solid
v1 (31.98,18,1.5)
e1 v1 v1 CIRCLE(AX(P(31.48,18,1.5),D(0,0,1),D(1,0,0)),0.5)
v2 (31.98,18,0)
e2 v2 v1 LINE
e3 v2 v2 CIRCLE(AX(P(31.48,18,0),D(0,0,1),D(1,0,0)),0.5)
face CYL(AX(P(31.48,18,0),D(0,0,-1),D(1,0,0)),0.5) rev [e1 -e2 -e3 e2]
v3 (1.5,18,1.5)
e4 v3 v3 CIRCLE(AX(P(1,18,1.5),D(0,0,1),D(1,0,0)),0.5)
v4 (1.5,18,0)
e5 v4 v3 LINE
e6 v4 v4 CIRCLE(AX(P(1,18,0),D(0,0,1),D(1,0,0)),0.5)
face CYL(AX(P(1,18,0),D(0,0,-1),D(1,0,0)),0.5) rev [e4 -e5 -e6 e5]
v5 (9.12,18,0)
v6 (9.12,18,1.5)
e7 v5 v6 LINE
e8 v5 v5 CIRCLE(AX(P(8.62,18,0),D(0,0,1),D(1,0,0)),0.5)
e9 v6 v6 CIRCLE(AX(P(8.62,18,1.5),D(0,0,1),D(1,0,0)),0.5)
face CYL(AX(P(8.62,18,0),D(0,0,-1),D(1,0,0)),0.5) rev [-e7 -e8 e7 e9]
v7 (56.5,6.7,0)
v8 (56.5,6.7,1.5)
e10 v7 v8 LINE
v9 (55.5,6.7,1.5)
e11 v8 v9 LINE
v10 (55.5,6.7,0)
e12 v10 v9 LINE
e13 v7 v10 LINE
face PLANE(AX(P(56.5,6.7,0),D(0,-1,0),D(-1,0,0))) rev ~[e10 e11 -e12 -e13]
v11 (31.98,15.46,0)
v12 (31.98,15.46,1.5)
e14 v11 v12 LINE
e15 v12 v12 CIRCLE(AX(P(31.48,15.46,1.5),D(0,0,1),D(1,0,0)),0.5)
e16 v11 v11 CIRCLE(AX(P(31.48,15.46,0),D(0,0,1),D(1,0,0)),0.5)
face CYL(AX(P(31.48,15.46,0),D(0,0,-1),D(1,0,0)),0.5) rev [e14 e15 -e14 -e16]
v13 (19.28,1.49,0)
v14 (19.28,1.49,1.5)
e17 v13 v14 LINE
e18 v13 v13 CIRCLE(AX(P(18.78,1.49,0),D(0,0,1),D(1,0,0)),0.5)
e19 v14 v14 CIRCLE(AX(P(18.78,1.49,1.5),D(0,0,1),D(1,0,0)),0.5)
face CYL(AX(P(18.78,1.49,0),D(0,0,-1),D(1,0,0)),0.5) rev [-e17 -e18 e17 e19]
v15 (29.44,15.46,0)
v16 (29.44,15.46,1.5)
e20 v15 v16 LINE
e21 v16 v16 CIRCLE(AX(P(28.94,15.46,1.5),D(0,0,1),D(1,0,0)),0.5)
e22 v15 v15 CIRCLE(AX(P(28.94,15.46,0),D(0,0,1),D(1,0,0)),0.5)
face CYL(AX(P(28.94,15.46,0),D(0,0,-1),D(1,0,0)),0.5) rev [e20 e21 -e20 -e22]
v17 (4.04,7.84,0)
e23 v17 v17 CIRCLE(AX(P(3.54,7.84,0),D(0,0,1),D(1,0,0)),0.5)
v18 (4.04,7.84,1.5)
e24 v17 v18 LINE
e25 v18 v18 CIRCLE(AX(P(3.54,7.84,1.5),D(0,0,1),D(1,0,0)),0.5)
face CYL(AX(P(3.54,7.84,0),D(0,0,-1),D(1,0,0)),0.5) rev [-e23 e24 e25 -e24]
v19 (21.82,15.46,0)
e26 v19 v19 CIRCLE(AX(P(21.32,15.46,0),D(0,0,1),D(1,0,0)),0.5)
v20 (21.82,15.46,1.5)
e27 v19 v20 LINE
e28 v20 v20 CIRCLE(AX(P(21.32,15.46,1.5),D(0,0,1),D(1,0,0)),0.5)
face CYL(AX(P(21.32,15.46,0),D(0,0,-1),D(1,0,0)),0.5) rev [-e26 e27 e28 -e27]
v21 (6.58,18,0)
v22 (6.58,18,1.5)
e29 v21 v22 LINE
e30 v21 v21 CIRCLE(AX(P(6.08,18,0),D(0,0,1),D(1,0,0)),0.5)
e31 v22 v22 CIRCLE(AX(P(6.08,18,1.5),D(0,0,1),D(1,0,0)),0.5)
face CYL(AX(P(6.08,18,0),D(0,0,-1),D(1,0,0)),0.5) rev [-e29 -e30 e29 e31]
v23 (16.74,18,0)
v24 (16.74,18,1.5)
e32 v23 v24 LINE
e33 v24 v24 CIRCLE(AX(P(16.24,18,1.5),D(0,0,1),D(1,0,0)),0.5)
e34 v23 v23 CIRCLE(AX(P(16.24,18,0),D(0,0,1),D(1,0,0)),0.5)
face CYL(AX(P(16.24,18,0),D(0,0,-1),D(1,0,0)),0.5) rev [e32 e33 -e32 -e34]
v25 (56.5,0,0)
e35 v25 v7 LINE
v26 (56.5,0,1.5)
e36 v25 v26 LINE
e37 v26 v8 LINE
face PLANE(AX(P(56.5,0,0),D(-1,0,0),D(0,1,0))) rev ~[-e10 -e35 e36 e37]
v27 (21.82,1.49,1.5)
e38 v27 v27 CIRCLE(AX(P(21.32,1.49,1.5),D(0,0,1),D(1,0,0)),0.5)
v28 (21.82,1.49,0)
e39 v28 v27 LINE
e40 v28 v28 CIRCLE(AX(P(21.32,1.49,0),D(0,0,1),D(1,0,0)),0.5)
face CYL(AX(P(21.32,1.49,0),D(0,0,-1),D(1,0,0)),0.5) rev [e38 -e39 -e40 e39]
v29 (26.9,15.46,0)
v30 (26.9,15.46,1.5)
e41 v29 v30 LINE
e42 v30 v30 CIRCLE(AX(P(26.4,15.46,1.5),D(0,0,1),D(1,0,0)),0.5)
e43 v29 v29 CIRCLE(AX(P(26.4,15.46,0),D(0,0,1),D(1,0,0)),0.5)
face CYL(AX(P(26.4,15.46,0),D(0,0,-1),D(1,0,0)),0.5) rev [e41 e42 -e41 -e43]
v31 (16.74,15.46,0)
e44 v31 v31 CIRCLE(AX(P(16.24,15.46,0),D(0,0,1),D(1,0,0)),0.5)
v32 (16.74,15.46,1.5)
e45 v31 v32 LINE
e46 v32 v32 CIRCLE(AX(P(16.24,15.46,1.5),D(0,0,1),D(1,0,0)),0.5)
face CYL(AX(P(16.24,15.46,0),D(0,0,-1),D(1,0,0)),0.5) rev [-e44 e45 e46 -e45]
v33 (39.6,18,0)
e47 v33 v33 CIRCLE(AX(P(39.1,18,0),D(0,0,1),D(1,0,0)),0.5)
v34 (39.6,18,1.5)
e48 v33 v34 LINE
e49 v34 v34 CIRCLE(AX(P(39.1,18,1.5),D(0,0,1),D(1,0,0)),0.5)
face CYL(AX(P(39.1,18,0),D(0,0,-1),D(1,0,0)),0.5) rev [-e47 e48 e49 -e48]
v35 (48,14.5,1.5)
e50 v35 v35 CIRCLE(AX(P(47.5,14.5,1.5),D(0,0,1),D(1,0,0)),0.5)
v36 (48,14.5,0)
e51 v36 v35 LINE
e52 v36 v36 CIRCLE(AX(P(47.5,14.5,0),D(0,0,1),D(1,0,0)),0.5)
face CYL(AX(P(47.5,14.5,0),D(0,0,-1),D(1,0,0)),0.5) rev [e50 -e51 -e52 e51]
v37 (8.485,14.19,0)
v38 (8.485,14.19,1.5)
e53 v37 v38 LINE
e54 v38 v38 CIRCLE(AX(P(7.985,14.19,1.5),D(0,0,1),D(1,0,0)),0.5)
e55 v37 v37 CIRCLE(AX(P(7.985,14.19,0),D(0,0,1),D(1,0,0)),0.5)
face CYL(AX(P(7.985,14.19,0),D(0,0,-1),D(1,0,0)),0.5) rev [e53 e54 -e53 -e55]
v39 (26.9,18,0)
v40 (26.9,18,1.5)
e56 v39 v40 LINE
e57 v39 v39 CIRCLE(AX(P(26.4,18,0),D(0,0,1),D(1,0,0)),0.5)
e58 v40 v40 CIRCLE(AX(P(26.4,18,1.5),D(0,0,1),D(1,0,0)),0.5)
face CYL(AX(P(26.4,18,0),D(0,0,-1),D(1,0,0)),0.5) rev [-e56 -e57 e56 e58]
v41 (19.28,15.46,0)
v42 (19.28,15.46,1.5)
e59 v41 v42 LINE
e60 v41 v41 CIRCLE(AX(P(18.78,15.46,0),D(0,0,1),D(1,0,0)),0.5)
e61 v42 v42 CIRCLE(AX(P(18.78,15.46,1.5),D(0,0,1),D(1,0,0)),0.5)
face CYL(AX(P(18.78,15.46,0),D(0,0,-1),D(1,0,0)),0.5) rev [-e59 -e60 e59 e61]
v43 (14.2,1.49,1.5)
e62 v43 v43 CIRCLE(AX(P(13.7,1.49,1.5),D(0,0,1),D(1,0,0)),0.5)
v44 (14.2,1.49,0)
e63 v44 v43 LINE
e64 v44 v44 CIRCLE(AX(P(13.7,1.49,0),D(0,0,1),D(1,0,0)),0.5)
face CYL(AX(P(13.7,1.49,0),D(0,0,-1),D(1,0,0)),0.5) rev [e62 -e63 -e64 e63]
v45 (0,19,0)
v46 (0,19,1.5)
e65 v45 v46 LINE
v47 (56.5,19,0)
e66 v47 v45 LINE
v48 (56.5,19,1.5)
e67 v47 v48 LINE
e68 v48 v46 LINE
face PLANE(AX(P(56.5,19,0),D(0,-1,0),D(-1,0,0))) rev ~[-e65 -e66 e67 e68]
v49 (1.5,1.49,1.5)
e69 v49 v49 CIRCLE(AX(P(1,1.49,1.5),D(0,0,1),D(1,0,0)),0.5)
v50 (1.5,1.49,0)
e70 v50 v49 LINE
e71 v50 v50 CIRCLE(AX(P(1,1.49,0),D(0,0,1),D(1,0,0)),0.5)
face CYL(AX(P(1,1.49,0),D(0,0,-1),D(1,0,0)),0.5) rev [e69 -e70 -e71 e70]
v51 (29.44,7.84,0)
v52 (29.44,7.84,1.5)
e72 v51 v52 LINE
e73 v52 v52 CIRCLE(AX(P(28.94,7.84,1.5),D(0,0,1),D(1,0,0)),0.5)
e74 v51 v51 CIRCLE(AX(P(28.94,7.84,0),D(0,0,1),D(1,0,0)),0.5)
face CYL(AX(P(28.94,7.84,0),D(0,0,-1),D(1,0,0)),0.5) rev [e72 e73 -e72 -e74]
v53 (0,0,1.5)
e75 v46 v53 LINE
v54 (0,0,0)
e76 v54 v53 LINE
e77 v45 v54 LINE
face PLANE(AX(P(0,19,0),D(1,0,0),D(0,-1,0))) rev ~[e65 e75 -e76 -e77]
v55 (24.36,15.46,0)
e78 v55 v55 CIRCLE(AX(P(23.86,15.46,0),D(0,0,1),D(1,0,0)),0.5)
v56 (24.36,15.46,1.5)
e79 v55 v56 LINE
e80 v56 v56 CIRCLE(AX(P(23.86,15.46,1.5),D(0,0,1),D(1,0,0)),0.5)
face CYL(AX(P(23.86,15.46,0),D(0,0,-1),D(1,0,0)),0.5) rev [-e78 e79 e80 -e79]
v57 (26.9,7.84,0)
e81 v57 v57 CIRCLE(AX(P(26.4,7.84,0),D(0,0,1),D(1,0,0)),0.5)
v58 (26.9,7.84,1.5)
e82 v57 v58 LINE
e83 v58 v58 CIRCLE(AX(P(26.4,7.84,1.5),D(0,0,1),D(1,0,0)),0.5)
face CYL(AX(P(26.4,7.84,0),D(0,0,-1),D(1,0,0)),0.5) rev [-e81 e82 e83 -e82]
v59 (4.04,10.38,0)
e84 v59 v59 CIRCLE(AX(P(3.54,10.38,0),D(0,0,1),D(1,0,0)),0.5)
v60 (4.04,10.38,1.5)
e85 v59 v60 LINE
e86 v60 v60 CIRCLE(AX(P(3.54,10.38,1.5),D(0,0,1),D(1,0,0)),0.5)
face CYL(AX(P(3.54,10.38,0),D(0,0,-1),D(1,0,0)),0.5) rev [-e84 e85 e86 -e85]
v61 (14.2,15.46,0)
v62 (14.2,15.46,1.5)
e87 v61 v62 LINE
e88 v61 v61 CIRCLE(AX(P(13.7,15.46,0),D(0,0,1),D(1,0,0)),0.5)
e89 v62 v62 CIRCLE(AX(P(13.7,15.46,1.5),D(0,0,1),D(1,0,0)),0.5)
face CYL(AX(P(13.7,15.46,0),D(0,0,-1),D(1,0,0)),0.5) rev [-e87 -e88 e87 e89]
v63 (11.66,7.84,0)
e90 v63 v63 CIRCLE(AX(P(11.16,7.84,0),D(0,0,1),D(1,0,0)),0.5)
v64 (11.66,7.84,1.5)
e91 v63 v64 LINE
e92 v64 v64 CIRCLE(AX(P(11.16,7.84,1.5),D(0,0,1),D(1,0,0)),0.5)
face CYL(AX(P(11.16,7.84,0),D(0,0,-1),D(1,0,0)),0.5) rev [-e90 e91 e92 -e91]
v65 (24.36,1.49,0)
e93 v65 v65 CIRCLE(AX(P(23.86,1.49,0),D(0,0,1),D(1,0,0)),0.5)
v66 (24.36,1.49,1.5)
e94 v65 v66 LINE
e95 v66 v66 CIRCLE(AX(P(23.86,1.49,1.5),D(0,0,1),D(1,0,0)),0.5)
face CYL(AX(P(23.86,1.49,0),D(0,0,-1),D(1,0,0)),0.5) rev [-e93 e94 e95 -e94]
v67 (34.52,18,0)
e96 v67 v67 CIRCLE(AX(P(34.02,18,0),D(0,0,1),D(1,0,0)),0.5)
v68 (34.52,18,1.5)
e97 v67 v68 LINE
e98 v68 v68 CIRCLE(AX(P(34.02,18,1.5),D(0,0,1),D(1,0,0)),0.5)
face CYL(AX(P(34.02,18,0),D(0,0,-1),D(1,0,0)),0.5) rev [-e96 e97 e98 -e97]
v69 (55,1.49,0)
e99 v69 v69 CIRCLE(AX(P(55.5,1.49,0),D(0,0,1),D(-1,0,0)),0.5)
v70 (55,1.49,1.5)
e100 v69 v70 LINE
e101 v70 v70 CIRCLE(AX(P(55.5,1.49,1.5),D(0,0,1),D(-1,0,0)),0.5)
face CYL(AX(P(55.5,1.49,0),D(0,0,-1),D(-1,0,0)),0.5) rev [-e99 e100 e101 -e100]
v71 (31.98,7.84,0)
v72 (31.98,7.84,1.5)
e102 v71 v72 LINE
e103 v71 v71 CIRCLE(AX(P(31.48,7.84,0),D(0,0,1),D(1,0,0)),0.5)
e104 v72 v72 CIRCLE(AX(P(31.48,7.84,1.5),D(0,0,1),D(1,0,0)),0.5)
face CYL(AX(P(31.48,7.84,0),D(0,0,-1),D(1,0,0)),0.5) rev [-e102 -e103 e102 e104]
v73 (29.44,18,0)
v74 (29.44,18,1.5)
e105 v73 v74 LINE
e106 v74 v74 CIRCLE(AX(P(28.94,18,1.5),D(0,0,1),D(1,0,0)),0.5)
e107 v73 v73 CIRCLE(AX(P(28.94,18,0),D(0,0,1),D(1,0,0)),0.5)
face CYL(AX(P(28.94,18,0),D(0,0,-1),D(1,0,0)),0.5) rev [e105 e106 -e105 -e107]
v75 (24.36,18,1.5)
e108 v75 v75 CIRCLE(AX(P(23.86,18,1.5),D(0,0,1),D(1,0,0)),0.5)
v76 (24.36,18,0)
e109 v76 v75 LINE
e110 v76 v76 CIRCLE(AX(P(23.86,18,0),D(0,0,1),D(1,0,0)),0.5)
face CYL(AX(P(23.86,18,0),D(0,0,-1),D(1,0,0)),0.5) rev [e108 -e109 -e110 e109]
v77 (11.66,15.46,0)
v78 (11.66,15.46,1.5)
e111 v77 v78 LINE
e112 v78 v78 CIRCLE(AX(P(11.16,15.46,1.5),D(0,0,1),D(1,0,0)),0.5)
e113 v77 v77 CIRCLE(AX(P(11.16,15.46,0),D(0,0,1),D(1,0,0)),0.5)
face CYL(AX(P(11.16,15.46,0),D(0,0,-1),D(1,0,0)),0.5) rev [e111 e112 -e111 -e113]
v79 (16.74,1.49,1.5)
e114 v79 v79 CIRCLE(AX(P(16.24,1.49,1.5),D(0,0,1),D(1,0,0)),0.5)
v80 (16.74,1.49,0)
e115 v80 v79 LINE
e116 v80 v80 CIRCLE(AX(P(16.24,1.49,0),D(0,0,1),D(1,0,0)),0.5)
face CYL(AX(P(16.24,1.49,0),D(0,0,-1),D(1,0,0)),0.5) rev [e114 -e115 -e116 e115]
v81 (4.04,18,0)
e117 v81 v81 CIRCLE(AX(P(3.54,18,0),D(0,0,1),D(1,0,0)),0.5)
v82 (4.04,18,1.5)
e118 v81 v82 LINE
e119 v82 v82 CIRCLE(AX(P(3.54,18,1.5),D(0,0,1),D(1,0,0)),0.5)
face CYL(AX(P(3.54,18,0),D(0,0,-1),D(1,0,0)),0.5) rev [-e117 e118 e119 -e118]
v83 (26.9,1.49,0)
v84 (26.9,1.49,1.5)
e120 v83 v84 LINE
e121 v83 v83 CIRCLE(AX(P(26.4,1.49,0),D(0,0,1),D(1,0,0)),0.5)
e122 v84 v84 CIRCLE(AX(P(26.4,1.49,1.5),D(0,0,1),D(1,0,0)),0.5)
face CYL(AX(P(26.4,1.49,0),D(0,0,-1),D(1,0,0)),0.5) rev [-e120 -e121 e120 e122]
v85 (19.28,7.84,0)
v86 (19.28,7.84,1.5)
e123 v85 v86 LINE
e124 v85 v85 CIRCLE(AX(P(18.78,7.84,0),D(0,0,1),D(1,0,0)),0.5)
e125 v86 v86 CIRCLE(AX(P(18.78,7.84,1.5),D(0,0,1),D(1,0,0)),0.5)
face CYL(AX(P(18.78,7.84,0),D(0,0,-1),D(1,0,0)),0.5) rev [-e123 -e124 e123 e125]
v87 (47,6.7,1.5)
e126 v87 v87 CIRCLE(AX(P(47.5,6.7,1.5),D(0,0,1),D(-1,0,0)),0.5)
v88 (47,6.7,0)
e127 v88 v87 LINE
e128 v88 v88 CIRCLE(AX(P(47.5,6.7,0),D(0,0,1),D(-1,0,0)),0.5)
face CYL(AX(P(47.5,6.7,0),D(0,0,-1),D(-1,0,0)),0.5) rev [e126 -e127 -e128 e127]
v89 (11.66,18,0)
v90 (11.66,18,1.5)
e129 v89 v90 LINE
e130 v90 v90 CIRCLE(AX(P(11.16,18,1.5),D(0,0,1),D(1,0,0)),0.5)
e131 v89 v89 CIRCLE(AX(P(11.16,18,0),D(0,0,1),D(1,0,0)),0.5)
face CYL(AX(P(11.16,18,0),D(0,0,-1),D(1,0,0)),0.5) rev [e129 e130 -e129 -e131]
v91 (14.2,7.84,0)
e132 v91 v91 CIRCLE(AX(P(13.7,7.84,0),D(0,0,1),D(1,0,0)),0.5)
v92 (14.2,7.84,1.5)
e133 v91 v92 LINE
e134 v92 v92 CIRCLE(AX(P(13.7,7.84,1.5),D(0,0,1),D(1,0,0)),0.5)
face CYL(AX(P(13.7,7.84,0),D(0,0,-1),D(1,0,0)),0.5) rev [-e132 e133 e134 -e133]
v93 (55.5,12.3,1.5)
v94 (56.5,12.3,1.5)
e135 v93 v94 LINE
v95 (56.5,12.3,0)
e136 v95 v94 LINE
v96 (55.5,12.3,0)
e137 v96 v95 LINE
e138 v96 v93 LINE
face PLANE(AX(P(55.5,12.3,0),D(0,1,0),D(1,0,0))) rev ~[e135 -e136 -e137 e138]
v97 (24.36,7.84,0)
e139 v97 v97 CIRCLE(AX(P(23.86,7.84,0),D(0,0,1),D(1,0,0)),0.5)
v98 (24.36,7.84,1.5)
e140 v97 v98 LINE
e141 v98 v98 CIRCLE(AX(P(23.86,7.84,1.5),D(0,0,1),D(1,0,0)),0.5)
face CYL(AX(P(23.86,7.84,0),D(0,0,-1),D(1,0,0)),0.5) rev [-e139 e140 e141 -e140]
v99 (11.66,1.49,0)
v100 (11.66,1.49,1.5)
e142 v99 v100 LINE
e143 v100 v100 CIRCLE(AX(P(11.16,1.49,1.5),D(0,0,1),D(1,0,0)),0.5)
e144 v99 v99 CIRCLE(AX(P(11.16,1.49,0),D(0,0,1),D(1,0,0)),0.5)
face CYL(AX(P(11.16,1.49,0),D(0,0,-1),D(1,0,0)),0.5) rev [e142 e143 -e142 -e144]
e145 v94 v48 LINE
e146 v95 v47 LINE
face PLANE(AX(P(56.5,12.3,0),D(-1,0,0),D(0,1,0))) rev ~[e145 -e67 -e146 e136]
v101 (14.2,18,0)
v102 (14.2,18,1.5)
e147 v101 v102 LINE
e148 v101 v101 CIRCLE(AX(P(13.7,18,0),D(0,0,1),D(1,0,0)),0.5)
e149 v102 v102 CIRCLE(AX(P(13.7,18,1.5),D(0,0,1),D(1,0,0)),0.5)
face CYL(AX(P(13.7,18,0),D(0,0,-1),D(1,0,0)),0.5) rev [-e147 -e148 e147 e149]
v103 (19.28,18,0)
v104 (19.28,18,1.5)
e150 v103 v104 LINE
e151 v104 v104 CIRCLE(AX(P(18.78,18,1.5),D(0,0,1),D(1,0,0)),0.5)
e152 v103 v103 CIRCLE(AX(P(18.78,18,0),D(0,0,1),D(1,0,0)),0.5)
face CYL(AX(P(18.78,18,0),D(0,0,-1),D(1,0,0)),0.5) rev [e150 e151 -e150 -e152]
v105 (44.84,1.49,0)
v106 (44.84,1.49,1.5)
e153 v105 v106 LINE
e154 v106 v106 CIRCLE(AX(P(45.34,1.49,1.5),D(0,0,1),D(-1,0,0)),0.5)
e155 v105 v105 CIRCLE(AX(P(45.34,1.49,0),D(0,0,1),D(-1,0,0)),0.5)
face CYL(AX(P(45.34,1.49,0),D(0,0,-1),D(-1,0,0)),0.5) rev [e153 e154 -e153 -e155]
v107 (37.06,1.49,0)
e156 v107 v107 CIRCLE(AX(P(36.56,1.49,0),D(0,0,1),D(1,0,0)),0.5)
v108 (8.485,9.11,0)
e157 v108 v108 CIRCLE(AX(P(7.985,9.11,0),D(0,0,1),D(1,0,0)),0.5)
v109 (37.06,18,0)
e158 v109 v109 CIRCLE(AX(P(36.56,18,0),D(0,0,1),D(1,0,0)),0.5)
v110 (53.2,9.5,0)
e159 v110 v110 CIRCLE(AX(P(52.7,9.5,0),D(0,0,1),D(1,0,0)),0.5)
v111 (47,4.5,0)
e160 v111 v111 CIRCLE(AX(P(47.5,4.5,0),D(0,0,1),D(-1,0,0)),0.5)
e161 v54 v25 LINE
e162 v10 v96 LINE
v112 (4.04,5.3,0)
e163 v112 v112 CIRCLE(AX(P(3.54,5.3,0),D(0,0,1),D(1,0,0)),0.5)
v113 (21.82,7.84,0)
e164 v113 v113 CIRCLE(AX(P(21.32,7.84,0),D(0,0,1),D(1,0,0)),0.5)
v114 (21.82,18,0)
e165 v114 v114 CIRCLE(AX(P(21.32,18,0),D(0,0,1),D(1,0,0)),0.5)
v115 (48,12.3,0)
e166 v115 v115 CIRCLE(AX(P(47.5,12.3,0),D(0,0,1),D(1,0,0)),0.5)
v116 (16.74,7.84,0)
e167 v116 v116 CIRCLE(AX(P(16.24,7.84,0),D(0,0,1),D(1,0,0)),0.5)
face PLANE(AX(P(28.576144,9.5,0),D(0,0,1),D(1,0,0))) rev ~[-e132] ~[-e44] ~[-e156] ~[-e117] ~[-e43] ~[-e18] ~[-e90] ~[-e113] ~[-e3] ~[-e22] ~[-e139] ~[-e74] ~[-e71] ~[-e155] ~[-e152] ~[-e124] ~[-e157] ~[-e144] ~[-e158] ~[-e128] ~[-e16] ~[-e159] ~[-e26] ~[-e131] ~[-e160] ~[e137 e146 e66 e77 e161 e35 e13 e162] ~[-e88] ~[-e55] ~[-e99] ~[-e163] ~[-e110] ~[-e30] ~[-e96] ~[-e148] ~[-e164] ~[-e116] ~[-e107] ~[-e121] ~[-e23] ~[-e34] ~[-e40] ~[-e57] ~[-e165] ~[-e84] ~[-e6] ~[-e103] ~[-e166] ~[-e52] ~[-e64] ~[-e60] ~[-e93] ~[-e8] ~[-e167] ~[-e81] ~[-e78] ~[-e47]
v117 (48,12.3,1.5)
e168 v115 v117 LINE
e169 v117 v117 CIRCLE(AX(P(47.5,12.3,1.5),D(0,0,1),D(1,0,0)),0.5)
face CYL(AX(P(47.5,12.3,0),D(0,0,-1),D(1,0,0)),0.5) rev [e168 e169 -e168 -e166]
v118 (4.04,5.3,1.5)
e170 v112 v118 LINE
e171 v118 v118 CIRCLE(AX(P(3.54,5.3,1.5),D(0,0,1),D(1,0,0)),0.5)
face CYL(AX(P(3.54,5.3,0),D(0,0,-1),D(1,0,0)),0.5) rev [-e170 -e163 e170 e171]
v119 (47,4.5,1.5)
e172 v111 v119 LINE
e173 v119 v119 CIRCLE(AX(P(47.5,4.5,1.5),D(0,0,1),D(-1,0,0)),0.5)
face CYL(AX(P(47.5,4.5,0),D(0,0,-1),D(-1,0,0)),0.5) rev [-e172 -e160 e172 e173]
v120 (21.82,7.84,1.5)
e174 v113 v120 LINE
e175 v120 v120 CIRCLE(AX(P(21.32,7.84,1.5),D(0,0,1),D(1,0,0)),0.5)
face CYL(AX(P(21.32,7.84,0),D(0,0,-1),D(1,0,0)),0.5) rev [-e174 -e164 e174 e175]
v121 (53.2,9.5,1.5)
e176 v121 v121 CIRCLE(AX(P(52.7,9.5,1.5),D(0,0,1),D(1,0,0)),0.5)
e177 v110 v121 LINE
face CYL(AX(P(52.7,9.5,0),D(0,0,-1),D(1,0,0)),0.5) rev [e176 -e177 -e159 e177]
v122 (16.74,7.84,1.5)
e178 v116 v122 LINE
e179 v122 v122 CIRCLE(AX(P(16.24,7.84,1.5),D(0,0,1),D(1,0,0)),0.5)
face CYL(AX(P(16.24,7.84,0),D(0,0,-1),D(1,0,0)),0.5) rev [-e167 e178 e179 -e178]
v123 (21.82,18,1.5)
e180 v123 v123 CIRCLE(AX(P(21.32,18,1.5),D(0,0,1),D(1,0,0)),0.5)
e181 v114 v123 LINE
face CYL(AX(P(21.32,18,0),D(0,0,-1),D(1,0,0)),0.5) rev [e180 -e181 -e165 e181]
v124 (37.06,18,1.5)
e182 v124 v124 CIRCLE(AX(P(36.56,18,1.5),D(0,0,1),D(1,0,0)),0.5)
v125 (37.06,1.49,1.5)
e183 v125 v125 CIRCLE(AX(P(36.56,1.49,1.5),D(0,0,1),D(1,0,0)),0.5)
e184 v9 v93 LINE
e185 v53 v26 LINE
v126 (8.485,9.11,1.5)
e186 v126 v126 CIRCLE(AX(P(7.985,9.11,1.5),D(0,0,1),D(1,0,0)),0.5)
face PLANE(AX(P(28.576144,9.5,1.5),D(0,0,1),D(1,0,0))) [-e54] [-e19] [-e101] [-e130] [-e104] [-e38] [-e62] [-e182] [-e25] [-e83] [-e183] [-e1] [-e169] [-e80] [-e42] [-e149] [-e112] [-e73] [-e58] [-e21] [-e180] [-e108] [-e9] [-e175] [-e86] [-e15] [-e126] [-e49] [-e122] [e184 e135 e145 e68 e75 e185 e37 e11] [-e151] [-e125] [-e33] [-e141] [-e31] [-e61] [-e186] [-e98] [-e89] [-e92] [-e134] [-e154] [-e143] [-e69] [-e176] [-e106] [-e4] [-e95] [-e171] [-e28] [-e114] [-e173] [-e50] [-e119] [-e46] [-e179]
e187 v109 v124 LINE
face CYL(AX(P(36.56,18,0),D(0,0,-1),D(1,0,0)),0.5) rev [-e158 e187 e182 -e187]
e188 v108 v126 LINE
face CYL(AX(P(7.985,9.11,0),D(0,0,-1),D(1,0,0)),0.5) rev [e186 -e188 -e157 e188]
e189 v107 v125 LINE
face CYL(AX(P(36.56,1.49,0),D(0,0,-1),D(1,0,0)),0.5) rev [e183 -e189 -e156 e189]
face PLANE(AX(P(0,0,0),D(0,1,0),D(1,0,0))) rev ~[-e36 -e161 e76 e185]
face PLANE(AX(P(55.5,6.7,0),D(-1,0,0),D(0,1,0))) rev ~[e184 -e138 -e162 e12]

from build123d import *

# Parameters (mm, degrees)
ESQUISSE1_R        = 0.5
BOSS_EXTRU_1_DEPTH = 1.5


with BuildPart() as part:
    # Esquisse1 → Boss.-Extru.1 (new body)
    with BuildSketch(Plane.XY):
        Polygon((0, 0), (56.5, 0), (56.5, 6.7), (55.5, 6.7), (55.5, 12.3), (56.5, 12.3), (56.5, 19), (0, 19), align=None)
        with Locations((1, 18)):
            Circle(ESQUISSE1_R, mode=Mode.SUBTRACT)
        with Locations((3.54, 18)):
            Circle(ESQUISSE1_R, mode=Mode.SUBTRACT)
        with Locations((6.08, 18)):
            Circle(ESQUISSE1_R, mode=Mode.SUBTRACT)
        with Locations((8.62, 18)):
            Circle(ESQUISSE1_R, mode=Mode.SUBTRACT)
        with Locations((11.16, 18)):
            Circle(ESQUISSE1_R, mode=Mode.SUBTRACT)
        with Locations((13.7, 18)):
            Circle(ESQUISSE1_R, mode=Mode.SUBTRACT)
        with Locations((16.24, 18)):
            Circle(ESQUISSE1_R, mode=Mode.SUBTRACT)
        with Locations((18.78, 18)):
            Circle(ESQUISSE1_R, mode=Mode.SUBTRACT)
        with Locations((21.32, 18)):
            Circle(ESQUISSE1_R, mode=Mode.SUBTRACT)
        with Locations((23.86, 18)):
            Circle(ESQUISSE1_R, mode=Mode.SUBTRACT)
        with Locations((26.4, 18)):
            Circle(ESQUISSE1_R, mode=Mode.SUBTRACT)
        with Locations((28.94, 18)):
            Circle(ESQUISSE1_R, mode=Mode.SUBTRACT)
        with Locations((31.48, 18)):
            Circle(ESQUISSE1_R, mode=Mode.SUBTRACT)
        with Locations((34.02, 18)):
            Circle(ESQUISSE1_R, mode=Mode.SUBTRACT)
        with Locations((36.56, 18)):
            Circle(ESQUISSE1_R, mode=Mode.SUBTRACT)
        with Locations((39.1, 18)):
            Circle(ESQUISSE1_R, mode=Mode.SUBTRACT)
        with Locations((31.48, 15.46)):
            Circle(ESQUISSE1_R, mode=Mode.SUBTRACT)
        with Locations((28.94, 15.46)):
            Circle(ESQUISSE1_R, mode=Mode.SUBTRACT)
        with Locations((26.4, 15.46)):
            Circle(ESQUISSE1_R, mode=Mode.SUBTRACT)
        with Locations((23.86, 15.46)):
            Circle(ESQUISSE1_R, mode=Mode.SUBTRACT)
        with Locations((21.32, 15.46)):
            Circle(ESQUISSE1_R, mode=Mode.SUBTRACT)
        with Locations((18.78, 15.46)):
            Circle(ESQUISSE1_R, mode=Mode.SUBTRACT)
        with Locations((16.24, 15.46)):
            Circle(ESQUISSE1_R, mode=Mode.SUBTRACT)
        with Locations((13.7, 15.46)):
            Circle(ESQUISSE1_R, mode=Mode.SUBTRACT)
        with Locations((11.16, 15.46)):
            Circle(ESQUISSE1_R, mode=Mode.SUBTRACT)
        with Locations((31.48, 7.84)):
            Circle(ESQUISSE1_R, mode=Mode.SUBTRACT)
        with Locations((28.94, 7.84)):
            Circle(ESQUISSE1_R, mode=Mode.SUBTRACT)
        with Locations((26.4, 7.84)):
            Circle(ESQUISSE1_R, mode=Mode.SUBTRACT)
        with Locations((23.86, 7.84)):
            Circle(ESQUISSE1_R, mode=Mode.SUBTRACT)
        with Locations((21.32, 7.84)):
            Circle(ESQUISSE1_R, mode=Mode.SUBTRACT)
        with Locations((18.78, 7.84)):
            Circle(ESQUISSE1_R, mode=Mode.SUBTRACT)
        with Locations((16.24, 7.84)):
            Circle(ESQUISSE1_R, mode=Mode.SUBTRACT)
        with Locations((13.7, 7.84)):
            Circle(ESQUISSE1_R, mode=Mode.SUBTRACT)
        with Locations((11.16, 7.84)):
            Circle(ESQUISSE1_R, mode=Mode.SUBTRACT)
        with Locations((23.86, 1.49)):
            Circle(ESQUISSE1_R, mode=Mode.SUBTRACT)
        with Locations((21.32, 1.49)):
            Circle(ESQUISSE1_R, mode=Mode.SUBTRACT)
        with Locations((18.78, 1.49)):
            Circle(ESQUISSE1_R, mode=Mode.SUBTRACT)
        with Locations((16.24, 1.49)):
            Circle(ESQUISSE1_R, mode=Mode.SUBTRACT)
        with Locations((13.7, 1.49)):
            Circle(ESQUISSE1_R, mode=Mode.SUBTRACT)
        with Locations((11.16, 1.49)):
            Circle(ESQUISSE1_R, mode=Mode.SUBTRACT)
        with Locations((26.4, 1.49)):
            Circle(ESQUISSE1_R, mode=Mode.SUBTRACT)
        with Locations((36.56, 1.49)):
            Circle(ESQUISSE1_R, mode=Mode.SUBTRACT)
        with Locations((1, 1.49)):
            Circle(ESQUISSE1_R, mode=Mode.SUBTRACT)
        with Locations(Location((55.5, 1.49, 0), (0, 0, 180))):
            Circle(ESQUISSE1_R, mode=Mode.SUBTRACT)
        with Locations(Location((45.34, 1.49, 0), (0, 0, 180))):
            Circle(ESQUISSE1_R, mode=Mode.SUBTRACT)
        with Locations((3.54, 5.3)):
            Circle(ESQUISSE1_R, mode=Mode.SUBTRACT)
        with Locations((3.54, 7.84)):
            Circle(ESQUISSE1_R, mode=Mode.SUBTRACT)
        with Locations((3.54, 10.38)):
            Circle(ESQUISSE1_R, mode=Mode.SUBTRACT)
        with Locations((52.7, 9.5)):
            Circle(ESQUISSE1_R, mode=Mode.SUBTRACT)
        with Locations((47.5, 14.5)):
            Circle(ESQUISSE1_R, mode=Mode.SUBTRACT)
        with Locations((47.5, 12.3)):
            Circle(ESQUISSE1_R, mode=Mode.SUBTRACT)
        with Locations(Location((47.5, 4.5, 0), (0, 0, 180))):
            Circle(ESQUISSE1_R, mode=Mode.SUBTRACT)
        with Locations(Location((47.5, 6.7, 0), (0, 0, 180))):
            Circle(ESQUISSE1_R, mode=Mode.SUBTRACT)
        with Locations((7.985, 14.19)):
            Circle(ESQUISSE1_R, mode=Mode.SUBTRACT)
        with Locations((7.985, 9.11)):
            Circle(ESQUISSE1_R, mode=Mode.SUBTRACT)
    extrude(amount=BOSS_EXTRU_1_DEPTH)


solid = part.part
